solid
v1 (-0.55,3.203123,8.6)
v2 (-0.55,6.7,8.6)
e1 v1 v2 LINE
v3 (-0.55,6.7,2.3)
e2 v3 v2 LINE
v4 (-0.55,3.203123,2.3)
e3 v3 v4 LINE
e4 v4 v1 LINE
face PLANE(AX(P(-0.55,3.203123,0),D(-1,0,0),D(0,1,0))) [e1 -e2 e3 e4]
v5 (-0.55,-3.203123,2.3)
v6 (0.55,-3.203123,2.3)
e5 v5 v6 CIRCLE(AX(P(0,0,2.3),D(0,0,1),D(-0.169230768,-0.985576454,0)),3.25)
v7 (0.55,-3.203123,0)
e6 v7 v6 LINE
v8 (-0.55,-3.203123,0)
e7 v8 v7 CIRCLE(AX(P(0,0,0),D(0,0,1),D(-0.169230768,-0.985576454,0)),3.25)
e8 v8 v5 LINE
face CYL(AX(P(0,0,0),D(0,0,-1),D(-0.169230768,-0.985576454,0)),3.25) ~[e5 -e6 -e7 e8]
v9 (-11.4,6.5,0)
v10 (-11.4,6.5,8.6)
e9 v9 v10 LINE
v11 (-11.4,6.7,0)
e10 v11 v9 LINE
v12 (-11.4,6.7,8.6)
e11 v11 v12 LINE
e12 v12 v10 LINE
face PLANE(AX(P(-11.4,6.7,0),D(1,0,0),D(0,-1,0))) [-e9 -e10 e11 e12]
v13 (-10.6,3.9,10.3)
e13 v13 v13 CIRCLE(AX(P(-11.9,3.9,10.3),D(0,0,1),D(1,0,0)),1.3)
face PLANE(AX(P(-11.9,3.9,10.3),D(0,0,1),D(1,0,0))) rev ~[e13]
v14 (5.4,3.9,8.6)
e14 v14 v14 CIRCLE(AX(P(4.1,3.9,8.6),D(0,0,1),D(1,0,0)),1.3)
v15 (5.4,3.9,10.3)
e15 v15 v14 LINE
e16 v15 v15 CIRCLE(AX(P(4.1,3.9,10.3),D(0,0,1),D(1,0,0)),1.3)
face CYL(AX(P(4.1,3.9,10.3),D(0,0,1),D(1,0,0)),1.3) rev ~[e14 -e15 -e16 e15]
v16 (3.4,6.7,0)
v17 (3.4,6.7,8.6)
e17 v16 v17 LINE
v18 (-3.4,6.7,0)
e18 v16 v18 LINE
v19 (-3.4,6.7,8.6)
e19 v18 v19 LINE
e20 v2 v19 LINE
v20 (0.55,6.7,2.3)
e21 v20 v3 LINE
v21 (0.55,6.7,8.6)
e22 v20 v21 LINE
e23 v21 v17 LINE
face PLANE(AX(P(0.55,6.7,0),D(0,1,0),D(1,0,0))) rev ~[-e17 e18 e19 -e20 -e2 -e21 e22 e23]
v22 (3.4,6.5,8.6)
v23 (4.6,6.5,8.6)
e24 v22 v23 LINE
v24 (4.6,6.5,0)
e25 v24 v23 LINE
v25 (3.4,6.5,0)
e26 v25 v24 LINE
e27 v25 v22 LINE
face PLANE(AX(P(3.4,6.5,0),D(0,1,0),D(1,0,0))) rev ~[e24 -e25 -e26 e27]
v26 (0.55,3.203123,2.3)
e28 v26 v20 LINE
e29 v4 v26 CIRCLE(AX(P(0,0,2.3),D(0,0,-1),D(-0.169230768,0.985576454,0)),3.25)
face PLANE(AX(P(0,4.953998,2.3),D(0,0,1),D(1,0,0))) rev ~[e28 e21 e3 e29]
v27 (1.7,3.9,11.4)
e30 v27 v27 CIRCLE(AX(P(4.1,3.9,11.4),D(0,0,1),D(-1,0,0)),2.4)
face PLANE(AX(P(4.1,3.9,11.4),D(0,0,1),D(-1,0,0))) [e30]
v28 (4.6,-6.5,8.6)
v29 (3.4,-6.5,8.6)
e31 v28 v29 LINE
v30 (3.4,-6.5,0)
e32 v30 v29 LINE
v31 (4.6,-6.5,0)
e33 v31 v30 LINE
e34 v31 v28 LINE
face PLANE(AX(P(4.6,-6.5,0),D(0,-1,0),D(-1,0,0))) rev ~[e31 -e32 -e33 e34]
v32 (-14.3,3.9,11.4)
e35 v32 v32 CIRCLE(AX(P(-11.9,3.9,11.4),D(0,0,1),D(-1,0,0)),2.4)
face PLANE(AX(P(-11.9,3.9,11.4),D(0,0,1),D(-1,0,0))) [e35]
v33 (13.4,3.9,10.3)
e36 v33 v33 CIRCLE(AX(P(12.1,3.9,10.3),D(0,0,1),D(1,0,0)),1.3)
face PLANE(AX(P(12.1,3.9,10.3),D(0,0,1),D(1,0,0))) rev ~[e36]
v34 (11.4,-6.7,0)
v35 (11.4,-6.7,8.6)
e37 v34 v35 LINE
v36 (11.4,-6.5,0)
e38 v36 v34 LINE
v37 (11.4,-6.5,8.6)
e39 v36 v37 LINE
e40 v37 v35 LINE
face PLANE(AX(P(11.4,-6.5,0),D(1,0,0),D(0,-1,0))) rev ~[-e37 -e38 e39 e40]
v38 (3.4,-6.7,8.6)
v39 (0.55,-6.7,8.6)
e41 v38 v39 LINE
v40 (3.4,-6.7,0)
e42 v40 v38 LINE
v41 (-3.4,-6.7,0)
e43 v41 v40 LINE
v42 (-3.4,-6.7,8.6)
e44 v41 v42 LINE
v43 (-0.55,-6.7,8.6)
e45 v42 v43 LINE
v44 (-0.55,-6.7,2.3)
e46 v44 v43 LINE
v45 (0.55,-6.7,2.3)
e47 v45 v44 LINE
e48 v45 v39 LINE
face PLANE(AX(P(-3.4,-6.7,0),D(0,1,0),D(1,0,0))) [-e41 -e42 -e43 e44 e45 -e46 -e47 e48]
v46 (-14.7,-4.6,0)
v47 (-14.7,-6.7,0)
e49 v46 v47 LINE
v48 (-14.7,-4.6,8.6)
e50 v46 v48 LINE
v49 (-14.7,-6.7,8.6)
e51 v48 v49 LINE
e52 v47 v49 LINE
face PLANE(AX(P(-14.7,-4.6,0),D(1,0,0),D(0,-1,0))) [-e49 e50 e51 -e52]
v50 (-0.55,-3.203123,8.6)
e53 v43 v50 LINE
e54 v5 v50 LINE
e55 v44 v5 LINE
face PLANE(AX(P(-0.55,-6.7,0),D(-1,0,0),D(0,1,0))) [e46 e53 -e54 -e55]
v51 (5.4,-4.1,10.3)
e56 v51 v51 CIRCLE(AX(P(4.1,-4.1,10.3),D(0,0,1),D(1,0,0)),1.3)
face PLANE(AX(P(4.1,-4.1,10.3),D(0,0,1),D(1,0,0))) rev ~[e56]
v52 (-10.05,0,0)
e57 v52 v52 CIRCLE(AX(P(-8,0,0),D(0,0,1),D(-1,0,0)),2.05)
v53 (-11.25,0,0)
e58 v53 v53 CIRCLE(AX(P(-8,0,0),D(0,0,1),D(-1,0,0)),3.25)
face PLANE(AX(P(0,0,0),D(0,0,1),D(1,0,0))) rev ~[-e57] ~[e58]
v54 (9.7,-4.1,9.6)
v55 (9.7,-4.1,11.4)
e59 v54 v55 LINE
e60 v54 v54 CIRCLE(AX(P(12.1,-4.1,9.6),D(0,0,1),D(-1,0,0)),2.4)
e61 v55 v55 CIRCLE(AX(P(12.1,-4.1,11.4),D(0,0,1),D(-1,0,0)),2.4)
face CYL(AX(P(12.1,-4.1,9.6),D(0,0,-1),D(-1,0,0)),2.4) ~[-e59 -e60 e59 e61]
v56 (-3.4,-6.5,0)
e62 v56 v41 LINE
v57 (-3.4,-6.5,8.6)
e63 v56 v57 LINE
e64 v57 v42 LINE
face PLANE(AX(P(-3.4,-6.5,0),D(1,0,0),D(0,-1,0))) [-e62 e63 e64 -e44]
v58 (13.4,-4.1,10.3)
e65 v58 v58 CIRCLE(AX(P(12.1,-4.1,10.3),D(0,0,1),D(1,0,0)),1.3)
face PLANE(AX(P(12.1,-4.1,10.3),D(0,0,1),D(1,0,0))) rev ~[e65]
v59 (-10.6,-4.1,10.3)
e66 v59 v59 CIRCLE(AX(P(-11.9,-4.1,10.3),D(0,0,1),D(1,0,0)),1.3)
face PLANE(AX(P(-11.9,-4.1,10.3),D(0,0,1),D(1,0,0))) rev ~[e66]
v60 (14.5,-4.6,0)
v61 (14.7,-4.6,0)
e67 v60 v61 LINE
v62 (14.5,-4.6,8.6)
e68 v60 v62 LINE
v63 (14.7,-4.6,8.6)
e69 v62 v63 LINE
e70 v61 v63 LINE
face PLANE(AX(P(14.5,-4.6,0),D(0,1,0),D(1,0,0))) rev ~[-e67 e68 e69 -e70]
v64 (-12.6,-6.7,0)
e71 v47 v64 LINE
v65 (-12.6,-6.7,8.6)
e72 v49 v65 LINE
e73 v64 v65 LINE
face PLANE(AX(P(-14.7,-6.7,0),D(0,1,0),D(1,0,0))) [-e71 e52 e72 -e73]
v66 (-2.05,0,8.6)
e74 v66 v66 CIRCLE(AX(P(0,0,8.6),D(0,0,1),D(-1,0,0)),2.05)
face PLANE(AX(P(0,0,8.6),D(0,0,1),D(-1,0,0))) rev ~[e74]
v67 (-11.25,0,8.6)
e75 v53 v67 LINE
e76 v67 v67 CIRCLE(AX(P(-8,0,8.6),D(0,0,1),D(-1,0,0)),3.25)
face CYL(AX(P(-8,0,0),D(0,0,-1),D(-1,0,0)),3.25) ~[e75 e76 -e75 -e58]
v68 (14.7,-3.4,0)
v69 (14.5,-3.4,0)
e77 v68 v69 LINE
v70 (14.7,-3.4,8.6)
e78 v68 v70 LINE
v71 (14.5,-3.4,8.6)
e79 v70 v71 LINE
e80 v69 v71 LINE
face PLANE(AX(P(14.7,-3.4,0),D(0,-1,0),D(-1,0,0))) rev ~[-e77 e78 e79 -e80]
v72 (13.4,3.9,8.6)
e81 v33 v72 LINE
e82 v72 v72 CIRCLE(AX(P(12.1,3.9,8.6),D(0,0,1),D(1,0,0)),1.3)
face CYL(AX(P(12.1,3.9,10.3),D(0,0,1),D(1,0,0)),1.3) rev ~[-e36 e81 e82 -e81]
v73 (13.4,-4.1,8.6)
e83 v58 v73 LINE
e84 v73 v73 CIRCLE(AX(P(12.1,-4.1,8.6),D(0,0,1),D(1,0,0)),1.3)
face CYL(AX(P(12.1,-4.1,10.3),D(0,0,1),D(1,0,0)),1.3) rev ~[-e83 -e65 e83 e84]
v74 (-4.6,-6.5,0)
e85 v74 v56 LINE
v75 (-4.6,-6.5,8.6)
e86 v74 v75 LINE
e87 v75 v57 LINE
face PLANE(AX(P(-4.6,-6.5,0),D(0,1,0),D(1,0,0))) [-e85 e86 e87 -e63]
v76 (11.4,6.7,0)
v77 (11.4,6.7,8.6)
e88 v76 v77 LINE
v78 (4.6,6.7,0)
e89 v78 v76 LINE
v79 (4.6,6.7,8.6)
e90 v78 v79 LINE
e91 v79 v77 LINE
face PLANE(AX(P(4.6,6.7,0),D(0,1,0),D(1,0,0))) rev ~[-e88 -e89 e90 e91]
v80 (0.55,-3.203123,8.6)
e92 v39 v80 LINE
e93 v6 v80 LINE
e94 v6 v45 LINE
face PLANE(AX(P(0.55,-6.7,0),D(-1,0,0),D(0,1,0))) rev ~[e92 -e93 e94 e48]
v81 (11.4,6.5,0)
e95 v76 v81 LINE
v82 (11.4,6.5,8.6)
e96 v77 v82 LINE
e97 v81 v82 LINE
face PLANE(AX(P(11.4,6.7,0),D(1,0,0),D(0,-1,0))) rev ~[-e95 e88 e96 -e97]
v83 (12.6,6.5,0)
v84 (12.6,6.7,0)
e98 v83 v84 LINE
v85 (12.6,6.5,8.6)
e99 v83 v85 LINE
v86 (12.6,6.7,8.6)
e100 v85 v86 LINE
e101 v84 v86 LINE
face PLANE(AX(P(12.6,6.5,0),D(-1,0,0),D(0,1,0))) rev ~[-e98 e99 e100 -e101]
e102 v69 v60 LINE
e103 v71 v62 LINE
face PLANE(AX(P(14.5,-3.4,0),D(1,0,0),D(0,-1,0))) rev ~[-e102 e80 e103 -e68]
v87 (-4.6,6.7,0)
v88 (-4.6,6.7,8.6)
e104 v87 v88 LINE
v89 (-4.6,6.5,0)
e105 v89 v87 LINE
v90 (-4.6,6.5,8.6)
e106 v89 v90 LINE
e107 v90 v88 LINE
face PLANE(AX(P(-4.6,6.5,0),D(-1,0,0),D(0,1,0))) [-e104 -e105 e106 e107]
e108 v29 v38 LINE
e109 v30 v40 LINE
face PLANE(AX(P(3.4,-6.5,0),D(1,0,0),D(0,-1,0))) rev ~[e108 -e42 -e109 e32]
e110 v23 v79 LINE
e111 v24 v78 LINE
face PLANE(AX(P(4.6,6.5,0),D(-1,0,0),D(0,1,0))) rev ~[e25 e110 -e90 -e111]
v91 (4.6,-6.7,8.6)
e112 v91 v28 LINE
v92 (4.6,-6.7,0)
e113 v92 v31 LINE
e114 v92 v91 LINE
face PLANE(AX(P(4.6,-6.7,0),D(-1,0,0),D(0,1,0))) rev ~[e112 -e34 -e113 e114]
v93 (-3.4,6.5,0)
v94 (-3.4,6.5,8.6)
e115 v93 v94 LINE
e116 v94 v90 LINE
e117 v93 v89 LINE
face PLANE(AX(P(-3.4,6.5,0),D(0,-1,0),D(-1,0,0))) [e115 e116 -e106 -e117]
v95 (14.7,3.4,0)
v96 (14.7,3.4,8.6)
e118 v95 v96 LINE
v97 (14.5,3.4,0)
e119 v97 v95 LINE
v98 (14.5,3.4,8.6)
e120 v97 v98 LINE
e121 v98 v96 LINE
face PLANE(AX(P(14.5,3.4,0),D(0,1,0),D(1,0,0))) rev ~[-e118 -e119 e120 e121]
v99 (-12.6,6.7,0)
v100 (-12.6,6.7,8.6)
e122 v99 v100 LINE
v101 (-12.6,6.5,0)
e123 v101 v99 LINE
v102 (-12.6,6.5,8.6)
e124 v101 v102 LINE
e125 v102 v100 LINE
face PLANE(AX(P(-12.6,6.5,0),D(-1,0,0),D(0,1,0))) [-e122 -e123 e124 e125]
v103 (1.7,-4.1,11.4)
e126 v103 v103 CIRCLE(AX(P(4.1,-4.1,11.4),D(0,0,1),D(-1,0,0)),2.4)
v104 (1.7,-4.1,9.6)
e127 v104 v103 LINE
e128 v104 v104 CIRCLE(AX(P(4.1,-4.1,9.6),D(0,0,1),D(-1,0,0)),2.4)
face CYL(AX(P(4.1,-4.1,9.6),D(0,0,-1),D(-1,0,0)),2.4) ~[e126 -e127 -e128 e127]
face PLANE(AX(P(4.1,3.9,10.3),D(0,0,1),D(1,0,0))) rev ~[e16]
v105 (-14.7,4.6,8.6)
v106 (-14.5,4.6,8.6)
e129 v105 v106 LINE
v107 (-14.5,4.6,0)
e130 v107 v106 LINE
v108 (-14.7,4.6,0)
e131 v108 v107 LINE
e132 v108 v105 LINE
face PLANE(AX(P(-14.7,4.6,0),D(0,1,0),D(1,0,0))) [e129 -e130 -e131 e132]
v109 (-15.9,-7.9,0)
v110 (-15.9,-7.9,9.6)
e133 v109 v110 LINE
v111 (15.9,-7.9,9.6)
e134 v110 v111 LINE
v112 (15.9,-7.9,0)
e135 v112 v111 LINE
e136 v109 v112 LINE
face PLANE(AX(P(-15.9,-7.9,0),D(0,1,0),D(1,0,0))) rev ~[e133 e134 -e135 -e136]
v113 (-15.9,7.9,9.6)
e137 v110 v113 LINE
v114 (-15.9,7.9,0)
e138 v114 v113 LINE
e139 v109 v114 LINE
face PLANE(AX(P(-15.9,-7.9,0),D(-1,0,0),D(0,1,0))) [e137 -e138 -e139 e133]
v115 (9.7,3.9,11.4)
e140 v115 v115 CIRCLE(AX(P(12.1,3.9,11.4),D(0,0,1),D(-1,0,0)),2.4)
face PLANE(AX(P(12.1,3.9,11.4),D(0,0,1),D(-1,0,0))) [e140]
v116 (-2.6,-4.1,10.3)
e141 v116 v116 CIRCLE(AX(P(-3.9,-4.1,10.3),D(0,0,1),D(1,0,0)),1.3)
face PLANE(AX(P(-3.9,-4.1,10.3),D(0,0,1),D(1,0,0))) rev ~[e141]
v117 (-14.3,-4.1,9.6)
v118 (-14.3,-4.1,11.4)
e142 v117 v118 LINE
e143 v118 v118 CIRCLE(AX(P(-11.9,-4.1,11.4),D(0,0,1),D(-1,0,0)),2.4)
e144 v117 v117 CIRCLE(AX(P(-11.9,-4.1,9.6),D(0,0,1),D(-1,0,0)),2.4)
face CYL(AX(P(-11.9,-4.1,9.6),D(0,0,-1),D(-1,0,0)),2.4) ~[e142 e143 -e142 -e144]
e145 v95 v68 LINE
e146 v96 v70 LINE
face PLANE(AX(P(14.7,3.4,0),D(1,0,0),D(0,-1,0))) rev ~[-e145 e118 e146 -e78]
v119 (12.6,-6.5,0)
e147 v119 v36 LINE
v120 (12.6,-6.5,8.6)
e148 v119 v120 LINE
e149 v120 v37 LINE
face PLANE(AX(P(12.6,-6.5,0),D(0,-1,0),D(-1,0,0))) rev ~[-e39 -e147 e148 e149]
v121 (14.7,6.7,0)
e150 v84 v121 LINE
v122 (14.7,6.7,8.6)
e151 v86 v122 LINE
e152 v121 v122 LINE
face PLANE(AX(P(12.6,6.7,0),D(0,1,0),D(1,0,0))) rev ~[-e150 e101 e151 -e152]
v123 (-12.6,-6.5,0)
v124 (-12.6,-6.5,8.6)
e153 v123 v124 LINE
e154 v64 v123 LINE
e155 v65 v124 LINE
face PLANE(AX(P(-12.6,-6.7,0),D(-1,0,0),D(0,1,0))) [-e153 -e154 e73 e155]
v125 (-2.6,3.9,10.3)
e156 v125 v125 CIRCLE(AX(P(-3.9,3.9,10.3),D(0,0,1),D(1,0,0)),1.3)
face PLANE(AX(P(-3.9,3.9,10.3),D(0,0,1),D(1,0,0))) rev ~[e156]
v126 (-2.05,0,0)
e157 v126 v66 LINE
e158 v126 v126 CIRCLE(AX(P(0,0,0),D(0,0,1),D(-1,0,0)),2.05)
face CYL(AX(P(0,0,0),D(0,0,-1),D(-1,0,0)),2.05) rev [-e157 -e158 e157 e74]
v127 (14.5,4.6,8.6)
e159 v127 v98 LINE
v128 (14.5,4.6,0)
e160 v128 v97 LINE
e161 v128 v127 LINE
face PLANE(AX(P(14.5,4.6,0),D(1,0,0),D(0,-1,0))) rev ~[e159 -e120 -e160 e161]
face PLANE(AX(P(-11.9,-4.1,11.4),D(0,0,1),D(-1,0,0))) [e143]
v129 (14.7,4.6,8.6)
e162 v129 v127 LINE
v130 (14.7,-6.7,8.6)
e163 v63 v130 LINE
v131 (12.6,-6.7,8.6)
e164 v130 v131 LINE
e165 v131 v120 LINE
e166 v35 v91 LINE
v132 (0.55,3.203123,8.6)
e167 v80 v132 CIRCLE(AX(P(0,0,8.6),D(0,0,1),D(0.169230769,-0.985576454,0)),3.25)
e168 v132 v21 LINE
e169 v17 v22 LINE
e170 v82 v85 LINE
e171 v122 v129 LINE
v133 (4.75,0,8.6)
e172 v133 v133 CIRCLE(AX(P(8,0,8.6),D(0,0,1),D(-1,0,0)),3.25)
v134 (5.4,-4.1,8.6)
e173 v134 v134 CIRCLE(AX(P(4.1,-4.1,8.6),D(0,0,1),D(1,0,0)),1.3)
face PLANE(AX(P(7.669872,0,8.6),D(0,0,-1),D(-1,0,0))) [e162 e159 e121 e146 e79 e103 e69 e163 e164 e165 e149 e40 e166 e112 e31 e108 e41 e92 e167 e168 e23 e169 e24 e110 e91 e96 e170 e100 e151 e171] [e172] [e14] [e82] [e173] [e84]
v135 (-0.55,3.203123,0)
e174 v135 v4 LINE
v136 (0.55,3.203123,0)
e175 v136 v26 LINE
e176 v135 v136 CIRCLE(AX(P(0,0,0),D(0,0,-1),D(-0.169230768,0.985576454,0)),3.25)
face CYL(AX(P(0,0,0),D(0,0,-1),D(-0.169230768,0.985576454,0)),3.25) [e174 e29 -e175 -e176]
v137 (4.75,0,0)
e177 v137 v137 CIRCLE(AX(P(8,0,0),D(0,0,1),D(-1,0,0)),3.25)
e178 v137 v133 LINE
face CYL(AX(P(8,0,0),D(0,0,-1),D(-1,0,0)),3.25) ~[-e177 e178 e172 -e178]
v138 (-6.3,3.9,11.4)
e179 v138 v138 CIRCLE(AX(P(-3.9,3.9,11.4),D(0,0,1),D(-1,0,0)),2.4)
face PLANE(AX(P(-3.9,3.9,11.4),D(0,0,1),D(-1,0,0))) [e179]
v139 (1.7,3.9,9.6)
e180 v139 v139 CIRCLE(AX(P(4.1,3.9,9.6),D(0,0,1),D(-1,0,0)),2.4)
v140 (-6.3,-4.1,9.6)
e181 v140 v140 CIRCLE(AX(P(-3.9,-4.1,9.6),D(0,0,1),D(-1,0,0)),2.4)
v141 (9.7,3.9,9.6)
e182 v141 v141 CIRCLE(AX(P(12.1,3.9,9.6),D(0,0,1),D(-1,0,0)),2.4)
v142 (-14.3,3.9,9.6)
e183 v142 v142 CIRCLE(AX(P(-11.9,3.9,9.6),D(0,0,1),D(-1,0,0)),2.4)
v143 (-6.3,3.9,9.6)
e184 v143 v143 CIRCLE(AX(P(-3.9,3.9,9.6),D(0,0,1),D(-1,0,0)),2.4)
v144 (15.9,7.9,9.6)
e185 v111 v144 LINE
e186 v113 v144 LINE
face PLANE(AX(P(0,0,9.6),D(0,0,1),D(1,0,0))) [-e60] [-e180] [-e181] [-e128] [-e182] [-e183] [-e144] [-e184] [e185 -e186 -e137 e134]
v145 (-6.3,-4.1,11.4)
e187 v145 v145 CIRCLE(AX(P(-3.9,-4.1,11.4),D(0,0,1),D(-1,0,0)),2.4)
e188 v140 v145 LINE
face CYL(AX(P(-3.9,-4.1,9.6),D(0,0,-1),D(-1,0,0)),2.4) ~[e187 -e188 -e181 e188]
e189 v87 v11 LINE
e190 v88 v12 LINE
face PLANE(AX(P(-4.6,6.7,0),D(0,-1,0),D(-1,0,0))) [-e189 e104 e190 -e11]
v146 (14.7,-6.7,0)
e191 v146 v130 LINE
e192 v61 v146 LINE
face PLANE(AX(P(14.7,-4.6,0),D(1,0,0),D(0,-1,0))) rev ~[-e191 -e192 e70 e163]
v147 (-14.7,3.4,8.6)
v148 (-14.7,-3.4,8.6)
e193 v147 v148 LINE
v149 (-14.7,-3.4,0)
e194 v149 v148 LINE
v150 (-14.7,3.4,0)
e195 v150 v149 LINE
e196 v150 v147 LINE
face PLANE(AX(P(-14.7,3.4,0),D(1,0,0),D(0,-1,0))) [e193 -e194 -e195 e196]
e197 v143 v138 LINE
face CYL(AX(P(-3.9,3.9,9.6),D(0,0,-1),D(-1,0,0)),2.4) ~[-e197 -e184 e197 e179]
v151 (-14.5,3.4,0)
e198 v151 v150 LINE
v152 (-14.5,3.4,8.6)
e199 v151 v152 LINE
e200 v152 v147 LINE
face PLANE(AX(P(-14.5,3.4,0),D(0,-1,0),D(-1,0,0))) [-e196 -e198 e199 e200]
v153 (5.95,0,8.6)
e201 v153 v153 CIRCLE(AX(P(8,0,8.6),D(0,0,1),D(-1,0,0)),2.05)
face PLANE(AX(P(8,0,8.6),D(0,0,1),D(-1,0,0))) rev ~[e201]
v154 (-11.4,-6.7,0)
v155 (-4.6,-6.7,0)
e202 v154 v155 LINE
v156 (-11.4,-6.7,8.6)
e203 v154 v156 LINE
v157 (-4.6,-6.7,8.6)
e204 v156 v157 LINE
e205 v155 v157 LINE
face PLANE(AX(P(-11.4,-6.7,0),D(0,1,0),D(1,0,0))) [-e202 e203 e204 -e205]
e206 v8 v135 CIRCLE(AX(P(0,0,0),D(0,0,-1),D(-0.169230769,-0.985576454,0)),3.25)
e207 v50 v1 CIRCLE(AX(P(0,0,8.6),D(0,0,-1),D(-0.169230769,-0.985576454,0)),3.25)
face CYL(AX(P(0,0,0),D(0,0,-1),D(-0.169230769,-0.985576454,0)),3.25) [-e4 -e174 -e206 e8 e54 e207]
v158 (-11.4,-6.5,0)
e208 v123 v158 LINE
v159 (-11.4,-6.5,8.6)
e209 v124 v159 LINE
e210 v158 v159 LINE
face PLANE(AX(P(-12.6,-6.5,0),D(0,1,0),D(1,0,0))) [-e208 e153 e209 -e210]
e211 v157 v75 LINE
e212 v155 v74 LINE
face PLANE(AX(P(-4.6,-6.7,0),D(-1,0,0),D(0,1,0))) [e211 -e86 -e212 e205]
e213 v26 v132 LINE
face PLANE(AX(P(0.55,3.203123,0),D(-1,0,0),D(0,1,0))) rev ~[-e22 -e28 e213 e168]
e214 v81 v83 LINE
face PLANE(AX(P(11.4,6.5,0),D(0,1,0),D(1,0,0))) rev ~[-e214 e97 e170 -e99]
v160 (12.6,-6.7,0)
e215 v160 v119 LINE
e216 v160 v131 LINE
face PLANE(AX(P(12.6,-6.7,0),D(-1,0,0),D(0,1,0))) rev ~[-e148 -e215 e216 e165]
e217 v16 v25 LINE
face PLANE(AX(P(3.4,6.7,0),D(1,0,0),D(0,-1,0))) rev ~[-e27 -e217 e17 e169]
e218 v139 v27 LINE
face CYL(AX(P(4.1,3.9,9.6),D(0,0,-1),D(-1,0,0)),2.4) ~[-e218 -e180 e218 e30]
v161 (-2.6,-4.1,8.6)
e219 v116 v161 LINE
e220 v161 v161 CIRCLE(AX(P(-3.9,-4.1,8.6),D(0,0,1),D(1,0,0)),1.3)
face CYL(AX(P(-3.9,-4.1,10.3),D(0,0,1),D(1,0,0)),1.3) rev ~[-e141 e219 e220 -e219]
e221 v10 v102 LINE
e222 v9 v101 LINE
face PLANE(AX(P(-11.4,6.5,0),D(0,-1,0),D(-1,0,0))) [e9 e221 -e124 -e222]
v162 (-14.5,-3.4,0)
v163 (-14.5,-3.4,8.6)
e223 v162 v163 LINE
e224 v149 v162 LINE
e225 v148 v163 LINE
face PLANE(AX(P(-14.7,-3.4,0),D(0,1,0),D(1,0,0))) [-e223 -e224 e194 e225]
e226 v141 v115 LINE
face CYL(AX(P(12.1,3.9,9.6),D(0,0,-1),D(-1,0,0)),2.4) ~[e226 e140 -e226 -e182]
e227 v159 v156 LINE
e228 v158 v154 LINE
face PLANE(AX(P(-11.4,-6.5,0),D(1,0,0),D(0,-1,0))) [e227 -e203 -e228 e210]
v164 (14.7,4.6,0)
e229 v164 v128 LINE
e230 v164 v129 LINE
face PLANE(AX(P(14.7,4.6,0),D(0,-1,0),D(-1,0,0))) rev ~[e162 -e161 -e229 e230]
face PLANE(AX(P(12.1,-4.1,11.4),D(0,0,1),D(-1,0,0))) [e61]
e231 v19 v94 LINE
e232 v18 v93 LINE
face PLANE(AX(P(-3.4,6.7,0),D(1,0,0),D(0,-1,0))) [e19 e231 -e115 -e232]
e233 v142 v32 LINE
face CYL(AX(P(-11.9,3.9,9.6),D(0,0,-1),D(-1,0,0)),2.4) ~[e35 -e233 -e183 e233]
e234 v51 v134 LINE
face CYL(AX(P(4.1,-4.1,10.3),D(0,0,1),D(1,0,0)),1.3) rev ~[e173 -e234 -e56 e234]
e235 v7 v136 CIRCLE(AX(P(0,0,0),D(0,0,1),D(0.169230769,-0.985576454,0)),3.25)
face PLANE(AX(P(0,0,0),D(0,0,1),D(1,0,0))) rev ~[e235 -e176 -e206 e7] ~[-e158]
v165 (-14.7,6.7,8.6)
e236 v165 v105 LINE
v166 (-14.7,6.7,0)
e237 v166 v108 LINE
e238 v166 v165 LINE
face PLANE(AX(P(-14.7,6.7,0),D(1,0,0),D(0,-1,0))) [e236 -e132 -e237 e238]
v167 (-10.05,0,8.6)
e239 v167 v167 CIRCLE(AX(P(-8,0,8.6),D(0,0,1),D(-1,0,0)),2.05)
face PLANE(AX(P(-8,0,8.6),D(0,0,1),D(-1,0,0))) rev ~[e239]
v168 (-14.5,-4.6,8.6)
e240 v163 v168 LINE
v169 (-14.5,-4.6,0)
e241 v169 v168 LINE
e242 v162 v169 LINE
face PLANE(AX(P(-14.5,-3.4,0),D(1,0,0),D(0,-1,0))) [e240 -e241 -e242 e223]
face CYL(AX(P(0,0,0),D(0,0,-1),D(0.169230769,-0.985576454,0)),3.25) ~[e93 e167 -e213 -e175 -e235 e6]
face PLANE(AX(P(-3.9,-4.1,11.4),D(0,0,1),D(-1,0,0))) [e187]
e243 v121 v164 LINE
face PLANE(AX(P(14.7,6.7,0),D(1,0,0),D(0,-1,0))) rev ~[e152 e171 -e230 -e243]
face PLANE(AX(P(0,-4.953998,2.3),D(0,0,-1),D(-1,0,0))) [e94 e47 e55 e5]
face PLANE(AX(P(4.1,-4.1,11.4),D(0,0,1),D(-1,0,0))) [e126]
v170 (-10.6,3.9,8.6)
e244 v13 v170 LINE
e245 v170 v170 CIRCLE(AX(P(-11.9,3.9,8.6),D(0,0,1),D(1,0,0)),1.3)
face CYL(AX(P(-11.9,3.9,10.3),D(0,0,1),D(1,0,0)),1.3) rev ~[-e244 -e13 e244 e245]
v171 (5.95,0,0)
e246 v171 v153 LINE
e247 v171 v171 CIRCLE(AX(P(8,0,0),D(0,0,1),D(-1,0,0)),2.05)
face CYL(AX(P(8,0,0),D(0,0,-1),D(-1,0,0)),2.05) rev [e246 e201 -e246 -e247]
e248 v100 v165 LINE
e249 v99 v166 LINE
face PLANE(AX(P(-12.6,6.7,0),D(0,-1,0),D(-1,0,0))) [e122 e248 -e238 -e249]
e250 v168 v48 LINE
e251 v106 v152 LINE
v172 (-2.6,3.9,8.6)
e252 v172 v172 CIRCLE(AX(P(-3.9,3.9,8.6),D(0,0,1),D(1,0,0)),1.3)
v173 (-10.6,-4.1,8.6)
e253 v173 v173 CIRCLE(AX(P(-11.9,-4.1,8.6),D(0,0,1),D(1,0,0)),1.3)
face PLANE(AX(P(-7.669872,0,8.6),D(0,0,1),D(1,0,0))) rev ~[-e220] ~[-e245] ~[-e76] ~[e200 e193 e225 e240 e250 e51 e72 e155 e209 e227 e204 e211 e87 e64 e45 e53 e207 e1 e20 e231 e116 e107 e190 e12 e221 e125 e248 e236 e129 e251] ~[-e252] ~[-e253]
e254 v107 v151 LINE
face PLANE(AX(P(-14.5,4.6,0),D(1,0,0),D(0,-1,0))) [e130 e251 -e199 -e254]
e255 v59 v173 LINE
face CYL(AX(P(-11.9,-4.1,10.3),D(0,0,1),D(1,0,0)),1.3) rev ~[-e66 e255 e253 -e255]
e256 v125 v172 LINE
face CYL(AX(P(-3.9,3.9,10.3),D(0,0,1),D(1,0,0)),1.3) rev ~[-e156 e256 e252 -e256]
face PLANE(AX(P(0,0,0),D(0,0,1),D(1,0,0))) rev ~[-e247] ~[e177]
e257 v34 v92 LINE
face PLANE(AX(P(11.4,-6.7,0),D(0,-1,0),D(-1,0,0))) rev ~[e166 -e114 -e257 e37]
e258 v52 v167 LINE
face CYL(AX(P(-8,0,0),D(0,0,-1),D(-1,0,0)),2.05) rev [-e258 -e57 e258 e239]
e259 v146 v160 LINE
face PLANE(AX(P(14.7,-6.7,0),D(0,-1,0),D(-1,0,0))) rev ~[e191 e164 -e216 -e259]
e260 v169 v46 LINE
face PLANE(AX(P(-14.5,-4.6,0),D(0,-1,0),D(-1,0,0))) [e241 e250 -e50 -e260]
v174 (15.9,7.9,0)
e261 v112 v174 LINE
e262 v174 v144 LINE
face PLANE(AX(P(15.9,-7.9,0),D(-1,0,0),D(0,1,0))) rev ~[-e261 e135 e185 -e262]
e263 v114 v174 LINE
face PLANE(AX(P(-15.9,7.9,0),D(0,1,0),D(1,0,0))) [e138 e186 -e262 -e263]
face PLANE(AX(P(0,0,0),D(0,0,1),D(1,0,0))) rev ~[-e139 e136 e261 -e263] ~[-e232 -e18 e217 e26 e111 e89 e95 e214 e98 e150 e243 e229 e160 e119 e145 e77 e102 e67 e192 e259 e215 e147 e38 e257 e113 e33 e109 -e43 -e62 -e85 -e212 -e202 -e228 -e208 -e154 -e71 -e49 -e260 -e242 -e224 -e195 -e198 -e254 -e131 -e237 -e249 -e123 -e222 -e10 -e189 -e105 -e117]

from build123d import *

# Parameters (mm, degrees)
SKETCH1_W           = 31.8
SKETCH1_H           = 15.8
BOSS_EXTRUDE1_DEPTH = 9.6
SKETCH2_R           = 2.4
BOSS_EXTRUDE2_DEPTH = 1.8
CUT_EXTRUDE1_START  = 0.7
SKETCH3_R           = 1.3
CUT_EXTRUDE1_DEPTH  = 20.7
SKETCH4_R           = 2.05
SKETCH4_R_2         = 3.25
CUT_EXTRUDE3_DEPTH  = 8.6
CUT_EXTRUDE4_DEPTH  = 2.3


with BuildPart() as part:
    # Sketch1 → Boss-Extrude1 (new body)
    with BuildSketch(Plane.XY):
        Rectangle(SKETCH1_W, SKETCH1_H)
    extrude(amount=BOSS_EXTRUDE1_DEPTH)

    # Sketch2 → Boss-Extrude2 (add)
    with BuildSketch(Plane.XY.offset(9.6)):
        with Locations(Location((-11.9, 3.9, 0), (0, 0, 180))):
            Circle(SKETCH2_R)
        with Locations(Location((-3.9, 3.9, 0), (0, 0, 180))):
            Circle(SKETCH2_R)
        with Locations(Location((4.1, 3.9, 0), (0, 0, 180))):
            Circle(SKETCH2_R)
        with Locations(Location((12.1, 3.9, 0), (0, 0, 180))):
            Circle(SKETCH2_R)
        with Locations(Location((-3.9, -4.1, 0), (0, 0, 180))):
            Circle(SKETCH2_R)
        with Locations(Location((4.1, -4.1, 0), (0, 0, 180))):
            Circle(SKETCH2_R)
        with Locations(Location((12.1, -4.1, 0), (0, 0, 180))):
            Circle(SKETCH2_R)
        with Locations(Location((-11.9, -4.1, 0), (0, 0, 180))):
            Circle(SKETCH2_R)
    extrude(amount=BOSS_EXTRUDE2_DEPTH)

    # Sketch3 → Cut-Extrude1 (cut)
    with BuildSketch(Plane.XY.offset(9.6).offset(CUT_EXTRUDE1_START)):
        with Locations((-11.9, 3.9)):
            Circle(SKETCH3_R)
        with Locations((-3.9, 3.9)):
            Circle(SKETCH3_R)
        with Locations((4.1, 3.9)):
            Circle(SKETCH3_R)
        with Locations((12.1, 3.9)):
            Circle(SKETCH3_R)
        with Locations((-3.9, -4.1)):
            Circle(SKETCH3_R)
        with Locations((4.1, -4.1)):
            Circle(SKETCH3_R)
        with Locations((12.1, -4.1)):
            Circle(SKETCH3_R)
        with Locations((-11.9, -4.1)):
            Circle(SKETCH3_R)
    extrude(amount=-CUT_EXTRUDE1_DEPTH, mode=Mode.SUBTRACT)

    # Sketch4 → Cut-Extrude3 (cut)
    with BuildSketch(Plane.XY):
        with Locations(Location((0, 0, 0), (0, 0, 180))):
            Circle(SKETCH4_R)
        with BuildLine():
            Line((-14.7, 3.4), (-14.7, -3.4))
            Line((-14.7, -3.4), (-14.5, -3.4))
            Line((-14.5, -3.4), (-14.5, -4.6))
            Line((-14.5, -4.6), (-14.7, -4.6))
            Line((-14.7, -4.6), (-14.7, -6.7))
            Line((-14.7, -6.7), (-12.6, -6.7))
            Line((-12.6, -6.7), (-12.6, -6.5))
            Line((-12.6, -6.5), (-11.4, -6.5))
            Line((-11.4, -6.5), (-11.4, -6.7))
            Line((-11.4, -6.7), (-4.6, -6.7))
            Line((-4.6, -6.7), (-4.6, -6.5))
            Line((-4.6, -6.5), (-3.4, -6.5))
            Line((-3.4, -6.5), (-3.4, -6.7))
            Line((-3.4, -6.7), (-0.55, -6.7))
            Line((-0.55, -6.7), (-0.55, -3.203123476))
            ThreePointArc((-0.55, -3.203123476), (-3.25, 0), (-0.55, 3.203123476))
            Line((-0.55, 3.203123476), (-0.55, 6.7))
            Line((-0.55, 6.7), (-3.4, 6.7))
            Line((-3.4, 6.7), (-3.4, 6.5))
            Line((-3.4, 6.5), (-4.6, 6.5))
            Line((-4.6, 6.5), (-4.6, 6.7))
            Line((-4.6, 6.7), (-11.4, 6.7))
            Line((-11.4, 6.7), (-11.4, 6.5))
            Line((-11.4, 6.5), (-12.6, 6.5))
            Line((-12.6, 6.5), (-12.6, 6.7))
            Line((-12.6, 6.7), (-14.7, 6.7))
            Line((-14.7, 6.7), (-14.7, 4.6))
            Line((-14.7, 4.6), (-14.5, 4.6))
            Line((-14.5, 4.6), (-14.5, 3.4))
            Line((-14.5, 3.4), (-14.7, 3.4))
        make_face()
        with Locations(Location((-8, 0, 0), (0, 0, 180))):
            Circle(SKETCH4_R_2, mode=Mode.SUBTRACT)
        with Locations(Location((-8, 0, 0), (0, 0, 180))):
            Circle(SKETCH4_R)
        with BuildLine():
            Line((0.55, -6.7), (0.55, -3.203123476))
            ThreePointArc((0.55, -3.203123476), (3.25, 0), (0.55, 3.203123476))
            Line((0.55, 3.203123476), (0.55, 6.7))
            Line((0.55, 6.7), (3.4, 6.7))
            Line((3.4, 6.7), (3.4, 6.5))
            Line((3.4, 6.5), (4.6, 6.5))
            Line((4.6, 6.5), (4.6, 6.7))
            Line((4.6, 6.7), (11.4, 6.7))
            Line((11.4, 6.7), (11.4, 6.5))
            Line((11.4, 6.5), (12.6, 6.5))
            Line((12.6, 6.5), (12.6, 6.7))
            Line((12.6, 6.7), (14.7, 6.7))
            Line((14.7, 6.7), (14.7, 4.6))
            Line((14.7, 4.6), (14.5, 4.6))
            Line((14.5, 4.6), (14.5, 3.4))
            Line((14.5, 3.4), (14.7, 3.4))
            Line((14.7, 3.4), (14.7, -3.4))
            Line((14.7, -3.4), (14.5, -3.4))
            Line((14.5, -3.4), (14.5, -4.6))
            Line((14.5, -4.6), (14.7, -4.6))
            Line((14.7, -4.6), (14.7, -6.7))
            Line((14.7, -6.7), (12.6, -6.7))
            Line((12.6, -6.7), (12.6, -6.5))
            Line((12.6, -6.5), (11.4, -6.5))
            Line((11.4, -6.5), (11.4, -6.7))
            Line((11.4, -6.7), (4.6, -6.7))
            Line((4.6, -6.7), (4.6, -6.5))
            Line((4.6, -6.5), (3.4, -6.5))
            Line((3.4, -6.5), (3.4, -6.7))
            Line((3.4, -6.7), (0.55, -6.7))
        make_face()
        with Locations(Location((8, 0, 0), (0, 0, 180))):
            Circle(SKETCH4_R_2, mode=Mode.SUBTRACT)
        with Locations(Location((8, 0, 0), (0, 0, 180))):
            Circle(SKETCH4_R)
    extrude(amount=CUT_EXTRUDE3_DEPTH, mode=Mode.SUBTRACT)

    # Sketch5 → Cut-Extrude4 (cut)
    with BuildSketch(Plane.XY):
        with BuildLine():
            Line((0.55, 6.7), (-0.55, 6.7))
            Line((-0.55, 6.7), (-0.55, 3.203123476))
            ThreePointArc((-0.55, 3.203123476), (0, 3.25), (0.55, 3.203123476))
            Line((0.55, 3.203123476), (0.55, 6.7))
        make_face()
        with BuildLine():
            Line((0.55, -6.7), (-0.55, -6.7))
            Line((-0.55, -6.7), (-0.55, -3.203123476))
            ThreePointArc((-0.55, -3.203123476), (0, -3.25), (0.55, -3.203123476))
            Line((0.55, -3.203123476), (0.55, -6.7))
        make_face()
    extrude(amount=CUT_EXTRUDE4_DEPTH, mode=Mode.SUBTRACT)


solid = part.part
